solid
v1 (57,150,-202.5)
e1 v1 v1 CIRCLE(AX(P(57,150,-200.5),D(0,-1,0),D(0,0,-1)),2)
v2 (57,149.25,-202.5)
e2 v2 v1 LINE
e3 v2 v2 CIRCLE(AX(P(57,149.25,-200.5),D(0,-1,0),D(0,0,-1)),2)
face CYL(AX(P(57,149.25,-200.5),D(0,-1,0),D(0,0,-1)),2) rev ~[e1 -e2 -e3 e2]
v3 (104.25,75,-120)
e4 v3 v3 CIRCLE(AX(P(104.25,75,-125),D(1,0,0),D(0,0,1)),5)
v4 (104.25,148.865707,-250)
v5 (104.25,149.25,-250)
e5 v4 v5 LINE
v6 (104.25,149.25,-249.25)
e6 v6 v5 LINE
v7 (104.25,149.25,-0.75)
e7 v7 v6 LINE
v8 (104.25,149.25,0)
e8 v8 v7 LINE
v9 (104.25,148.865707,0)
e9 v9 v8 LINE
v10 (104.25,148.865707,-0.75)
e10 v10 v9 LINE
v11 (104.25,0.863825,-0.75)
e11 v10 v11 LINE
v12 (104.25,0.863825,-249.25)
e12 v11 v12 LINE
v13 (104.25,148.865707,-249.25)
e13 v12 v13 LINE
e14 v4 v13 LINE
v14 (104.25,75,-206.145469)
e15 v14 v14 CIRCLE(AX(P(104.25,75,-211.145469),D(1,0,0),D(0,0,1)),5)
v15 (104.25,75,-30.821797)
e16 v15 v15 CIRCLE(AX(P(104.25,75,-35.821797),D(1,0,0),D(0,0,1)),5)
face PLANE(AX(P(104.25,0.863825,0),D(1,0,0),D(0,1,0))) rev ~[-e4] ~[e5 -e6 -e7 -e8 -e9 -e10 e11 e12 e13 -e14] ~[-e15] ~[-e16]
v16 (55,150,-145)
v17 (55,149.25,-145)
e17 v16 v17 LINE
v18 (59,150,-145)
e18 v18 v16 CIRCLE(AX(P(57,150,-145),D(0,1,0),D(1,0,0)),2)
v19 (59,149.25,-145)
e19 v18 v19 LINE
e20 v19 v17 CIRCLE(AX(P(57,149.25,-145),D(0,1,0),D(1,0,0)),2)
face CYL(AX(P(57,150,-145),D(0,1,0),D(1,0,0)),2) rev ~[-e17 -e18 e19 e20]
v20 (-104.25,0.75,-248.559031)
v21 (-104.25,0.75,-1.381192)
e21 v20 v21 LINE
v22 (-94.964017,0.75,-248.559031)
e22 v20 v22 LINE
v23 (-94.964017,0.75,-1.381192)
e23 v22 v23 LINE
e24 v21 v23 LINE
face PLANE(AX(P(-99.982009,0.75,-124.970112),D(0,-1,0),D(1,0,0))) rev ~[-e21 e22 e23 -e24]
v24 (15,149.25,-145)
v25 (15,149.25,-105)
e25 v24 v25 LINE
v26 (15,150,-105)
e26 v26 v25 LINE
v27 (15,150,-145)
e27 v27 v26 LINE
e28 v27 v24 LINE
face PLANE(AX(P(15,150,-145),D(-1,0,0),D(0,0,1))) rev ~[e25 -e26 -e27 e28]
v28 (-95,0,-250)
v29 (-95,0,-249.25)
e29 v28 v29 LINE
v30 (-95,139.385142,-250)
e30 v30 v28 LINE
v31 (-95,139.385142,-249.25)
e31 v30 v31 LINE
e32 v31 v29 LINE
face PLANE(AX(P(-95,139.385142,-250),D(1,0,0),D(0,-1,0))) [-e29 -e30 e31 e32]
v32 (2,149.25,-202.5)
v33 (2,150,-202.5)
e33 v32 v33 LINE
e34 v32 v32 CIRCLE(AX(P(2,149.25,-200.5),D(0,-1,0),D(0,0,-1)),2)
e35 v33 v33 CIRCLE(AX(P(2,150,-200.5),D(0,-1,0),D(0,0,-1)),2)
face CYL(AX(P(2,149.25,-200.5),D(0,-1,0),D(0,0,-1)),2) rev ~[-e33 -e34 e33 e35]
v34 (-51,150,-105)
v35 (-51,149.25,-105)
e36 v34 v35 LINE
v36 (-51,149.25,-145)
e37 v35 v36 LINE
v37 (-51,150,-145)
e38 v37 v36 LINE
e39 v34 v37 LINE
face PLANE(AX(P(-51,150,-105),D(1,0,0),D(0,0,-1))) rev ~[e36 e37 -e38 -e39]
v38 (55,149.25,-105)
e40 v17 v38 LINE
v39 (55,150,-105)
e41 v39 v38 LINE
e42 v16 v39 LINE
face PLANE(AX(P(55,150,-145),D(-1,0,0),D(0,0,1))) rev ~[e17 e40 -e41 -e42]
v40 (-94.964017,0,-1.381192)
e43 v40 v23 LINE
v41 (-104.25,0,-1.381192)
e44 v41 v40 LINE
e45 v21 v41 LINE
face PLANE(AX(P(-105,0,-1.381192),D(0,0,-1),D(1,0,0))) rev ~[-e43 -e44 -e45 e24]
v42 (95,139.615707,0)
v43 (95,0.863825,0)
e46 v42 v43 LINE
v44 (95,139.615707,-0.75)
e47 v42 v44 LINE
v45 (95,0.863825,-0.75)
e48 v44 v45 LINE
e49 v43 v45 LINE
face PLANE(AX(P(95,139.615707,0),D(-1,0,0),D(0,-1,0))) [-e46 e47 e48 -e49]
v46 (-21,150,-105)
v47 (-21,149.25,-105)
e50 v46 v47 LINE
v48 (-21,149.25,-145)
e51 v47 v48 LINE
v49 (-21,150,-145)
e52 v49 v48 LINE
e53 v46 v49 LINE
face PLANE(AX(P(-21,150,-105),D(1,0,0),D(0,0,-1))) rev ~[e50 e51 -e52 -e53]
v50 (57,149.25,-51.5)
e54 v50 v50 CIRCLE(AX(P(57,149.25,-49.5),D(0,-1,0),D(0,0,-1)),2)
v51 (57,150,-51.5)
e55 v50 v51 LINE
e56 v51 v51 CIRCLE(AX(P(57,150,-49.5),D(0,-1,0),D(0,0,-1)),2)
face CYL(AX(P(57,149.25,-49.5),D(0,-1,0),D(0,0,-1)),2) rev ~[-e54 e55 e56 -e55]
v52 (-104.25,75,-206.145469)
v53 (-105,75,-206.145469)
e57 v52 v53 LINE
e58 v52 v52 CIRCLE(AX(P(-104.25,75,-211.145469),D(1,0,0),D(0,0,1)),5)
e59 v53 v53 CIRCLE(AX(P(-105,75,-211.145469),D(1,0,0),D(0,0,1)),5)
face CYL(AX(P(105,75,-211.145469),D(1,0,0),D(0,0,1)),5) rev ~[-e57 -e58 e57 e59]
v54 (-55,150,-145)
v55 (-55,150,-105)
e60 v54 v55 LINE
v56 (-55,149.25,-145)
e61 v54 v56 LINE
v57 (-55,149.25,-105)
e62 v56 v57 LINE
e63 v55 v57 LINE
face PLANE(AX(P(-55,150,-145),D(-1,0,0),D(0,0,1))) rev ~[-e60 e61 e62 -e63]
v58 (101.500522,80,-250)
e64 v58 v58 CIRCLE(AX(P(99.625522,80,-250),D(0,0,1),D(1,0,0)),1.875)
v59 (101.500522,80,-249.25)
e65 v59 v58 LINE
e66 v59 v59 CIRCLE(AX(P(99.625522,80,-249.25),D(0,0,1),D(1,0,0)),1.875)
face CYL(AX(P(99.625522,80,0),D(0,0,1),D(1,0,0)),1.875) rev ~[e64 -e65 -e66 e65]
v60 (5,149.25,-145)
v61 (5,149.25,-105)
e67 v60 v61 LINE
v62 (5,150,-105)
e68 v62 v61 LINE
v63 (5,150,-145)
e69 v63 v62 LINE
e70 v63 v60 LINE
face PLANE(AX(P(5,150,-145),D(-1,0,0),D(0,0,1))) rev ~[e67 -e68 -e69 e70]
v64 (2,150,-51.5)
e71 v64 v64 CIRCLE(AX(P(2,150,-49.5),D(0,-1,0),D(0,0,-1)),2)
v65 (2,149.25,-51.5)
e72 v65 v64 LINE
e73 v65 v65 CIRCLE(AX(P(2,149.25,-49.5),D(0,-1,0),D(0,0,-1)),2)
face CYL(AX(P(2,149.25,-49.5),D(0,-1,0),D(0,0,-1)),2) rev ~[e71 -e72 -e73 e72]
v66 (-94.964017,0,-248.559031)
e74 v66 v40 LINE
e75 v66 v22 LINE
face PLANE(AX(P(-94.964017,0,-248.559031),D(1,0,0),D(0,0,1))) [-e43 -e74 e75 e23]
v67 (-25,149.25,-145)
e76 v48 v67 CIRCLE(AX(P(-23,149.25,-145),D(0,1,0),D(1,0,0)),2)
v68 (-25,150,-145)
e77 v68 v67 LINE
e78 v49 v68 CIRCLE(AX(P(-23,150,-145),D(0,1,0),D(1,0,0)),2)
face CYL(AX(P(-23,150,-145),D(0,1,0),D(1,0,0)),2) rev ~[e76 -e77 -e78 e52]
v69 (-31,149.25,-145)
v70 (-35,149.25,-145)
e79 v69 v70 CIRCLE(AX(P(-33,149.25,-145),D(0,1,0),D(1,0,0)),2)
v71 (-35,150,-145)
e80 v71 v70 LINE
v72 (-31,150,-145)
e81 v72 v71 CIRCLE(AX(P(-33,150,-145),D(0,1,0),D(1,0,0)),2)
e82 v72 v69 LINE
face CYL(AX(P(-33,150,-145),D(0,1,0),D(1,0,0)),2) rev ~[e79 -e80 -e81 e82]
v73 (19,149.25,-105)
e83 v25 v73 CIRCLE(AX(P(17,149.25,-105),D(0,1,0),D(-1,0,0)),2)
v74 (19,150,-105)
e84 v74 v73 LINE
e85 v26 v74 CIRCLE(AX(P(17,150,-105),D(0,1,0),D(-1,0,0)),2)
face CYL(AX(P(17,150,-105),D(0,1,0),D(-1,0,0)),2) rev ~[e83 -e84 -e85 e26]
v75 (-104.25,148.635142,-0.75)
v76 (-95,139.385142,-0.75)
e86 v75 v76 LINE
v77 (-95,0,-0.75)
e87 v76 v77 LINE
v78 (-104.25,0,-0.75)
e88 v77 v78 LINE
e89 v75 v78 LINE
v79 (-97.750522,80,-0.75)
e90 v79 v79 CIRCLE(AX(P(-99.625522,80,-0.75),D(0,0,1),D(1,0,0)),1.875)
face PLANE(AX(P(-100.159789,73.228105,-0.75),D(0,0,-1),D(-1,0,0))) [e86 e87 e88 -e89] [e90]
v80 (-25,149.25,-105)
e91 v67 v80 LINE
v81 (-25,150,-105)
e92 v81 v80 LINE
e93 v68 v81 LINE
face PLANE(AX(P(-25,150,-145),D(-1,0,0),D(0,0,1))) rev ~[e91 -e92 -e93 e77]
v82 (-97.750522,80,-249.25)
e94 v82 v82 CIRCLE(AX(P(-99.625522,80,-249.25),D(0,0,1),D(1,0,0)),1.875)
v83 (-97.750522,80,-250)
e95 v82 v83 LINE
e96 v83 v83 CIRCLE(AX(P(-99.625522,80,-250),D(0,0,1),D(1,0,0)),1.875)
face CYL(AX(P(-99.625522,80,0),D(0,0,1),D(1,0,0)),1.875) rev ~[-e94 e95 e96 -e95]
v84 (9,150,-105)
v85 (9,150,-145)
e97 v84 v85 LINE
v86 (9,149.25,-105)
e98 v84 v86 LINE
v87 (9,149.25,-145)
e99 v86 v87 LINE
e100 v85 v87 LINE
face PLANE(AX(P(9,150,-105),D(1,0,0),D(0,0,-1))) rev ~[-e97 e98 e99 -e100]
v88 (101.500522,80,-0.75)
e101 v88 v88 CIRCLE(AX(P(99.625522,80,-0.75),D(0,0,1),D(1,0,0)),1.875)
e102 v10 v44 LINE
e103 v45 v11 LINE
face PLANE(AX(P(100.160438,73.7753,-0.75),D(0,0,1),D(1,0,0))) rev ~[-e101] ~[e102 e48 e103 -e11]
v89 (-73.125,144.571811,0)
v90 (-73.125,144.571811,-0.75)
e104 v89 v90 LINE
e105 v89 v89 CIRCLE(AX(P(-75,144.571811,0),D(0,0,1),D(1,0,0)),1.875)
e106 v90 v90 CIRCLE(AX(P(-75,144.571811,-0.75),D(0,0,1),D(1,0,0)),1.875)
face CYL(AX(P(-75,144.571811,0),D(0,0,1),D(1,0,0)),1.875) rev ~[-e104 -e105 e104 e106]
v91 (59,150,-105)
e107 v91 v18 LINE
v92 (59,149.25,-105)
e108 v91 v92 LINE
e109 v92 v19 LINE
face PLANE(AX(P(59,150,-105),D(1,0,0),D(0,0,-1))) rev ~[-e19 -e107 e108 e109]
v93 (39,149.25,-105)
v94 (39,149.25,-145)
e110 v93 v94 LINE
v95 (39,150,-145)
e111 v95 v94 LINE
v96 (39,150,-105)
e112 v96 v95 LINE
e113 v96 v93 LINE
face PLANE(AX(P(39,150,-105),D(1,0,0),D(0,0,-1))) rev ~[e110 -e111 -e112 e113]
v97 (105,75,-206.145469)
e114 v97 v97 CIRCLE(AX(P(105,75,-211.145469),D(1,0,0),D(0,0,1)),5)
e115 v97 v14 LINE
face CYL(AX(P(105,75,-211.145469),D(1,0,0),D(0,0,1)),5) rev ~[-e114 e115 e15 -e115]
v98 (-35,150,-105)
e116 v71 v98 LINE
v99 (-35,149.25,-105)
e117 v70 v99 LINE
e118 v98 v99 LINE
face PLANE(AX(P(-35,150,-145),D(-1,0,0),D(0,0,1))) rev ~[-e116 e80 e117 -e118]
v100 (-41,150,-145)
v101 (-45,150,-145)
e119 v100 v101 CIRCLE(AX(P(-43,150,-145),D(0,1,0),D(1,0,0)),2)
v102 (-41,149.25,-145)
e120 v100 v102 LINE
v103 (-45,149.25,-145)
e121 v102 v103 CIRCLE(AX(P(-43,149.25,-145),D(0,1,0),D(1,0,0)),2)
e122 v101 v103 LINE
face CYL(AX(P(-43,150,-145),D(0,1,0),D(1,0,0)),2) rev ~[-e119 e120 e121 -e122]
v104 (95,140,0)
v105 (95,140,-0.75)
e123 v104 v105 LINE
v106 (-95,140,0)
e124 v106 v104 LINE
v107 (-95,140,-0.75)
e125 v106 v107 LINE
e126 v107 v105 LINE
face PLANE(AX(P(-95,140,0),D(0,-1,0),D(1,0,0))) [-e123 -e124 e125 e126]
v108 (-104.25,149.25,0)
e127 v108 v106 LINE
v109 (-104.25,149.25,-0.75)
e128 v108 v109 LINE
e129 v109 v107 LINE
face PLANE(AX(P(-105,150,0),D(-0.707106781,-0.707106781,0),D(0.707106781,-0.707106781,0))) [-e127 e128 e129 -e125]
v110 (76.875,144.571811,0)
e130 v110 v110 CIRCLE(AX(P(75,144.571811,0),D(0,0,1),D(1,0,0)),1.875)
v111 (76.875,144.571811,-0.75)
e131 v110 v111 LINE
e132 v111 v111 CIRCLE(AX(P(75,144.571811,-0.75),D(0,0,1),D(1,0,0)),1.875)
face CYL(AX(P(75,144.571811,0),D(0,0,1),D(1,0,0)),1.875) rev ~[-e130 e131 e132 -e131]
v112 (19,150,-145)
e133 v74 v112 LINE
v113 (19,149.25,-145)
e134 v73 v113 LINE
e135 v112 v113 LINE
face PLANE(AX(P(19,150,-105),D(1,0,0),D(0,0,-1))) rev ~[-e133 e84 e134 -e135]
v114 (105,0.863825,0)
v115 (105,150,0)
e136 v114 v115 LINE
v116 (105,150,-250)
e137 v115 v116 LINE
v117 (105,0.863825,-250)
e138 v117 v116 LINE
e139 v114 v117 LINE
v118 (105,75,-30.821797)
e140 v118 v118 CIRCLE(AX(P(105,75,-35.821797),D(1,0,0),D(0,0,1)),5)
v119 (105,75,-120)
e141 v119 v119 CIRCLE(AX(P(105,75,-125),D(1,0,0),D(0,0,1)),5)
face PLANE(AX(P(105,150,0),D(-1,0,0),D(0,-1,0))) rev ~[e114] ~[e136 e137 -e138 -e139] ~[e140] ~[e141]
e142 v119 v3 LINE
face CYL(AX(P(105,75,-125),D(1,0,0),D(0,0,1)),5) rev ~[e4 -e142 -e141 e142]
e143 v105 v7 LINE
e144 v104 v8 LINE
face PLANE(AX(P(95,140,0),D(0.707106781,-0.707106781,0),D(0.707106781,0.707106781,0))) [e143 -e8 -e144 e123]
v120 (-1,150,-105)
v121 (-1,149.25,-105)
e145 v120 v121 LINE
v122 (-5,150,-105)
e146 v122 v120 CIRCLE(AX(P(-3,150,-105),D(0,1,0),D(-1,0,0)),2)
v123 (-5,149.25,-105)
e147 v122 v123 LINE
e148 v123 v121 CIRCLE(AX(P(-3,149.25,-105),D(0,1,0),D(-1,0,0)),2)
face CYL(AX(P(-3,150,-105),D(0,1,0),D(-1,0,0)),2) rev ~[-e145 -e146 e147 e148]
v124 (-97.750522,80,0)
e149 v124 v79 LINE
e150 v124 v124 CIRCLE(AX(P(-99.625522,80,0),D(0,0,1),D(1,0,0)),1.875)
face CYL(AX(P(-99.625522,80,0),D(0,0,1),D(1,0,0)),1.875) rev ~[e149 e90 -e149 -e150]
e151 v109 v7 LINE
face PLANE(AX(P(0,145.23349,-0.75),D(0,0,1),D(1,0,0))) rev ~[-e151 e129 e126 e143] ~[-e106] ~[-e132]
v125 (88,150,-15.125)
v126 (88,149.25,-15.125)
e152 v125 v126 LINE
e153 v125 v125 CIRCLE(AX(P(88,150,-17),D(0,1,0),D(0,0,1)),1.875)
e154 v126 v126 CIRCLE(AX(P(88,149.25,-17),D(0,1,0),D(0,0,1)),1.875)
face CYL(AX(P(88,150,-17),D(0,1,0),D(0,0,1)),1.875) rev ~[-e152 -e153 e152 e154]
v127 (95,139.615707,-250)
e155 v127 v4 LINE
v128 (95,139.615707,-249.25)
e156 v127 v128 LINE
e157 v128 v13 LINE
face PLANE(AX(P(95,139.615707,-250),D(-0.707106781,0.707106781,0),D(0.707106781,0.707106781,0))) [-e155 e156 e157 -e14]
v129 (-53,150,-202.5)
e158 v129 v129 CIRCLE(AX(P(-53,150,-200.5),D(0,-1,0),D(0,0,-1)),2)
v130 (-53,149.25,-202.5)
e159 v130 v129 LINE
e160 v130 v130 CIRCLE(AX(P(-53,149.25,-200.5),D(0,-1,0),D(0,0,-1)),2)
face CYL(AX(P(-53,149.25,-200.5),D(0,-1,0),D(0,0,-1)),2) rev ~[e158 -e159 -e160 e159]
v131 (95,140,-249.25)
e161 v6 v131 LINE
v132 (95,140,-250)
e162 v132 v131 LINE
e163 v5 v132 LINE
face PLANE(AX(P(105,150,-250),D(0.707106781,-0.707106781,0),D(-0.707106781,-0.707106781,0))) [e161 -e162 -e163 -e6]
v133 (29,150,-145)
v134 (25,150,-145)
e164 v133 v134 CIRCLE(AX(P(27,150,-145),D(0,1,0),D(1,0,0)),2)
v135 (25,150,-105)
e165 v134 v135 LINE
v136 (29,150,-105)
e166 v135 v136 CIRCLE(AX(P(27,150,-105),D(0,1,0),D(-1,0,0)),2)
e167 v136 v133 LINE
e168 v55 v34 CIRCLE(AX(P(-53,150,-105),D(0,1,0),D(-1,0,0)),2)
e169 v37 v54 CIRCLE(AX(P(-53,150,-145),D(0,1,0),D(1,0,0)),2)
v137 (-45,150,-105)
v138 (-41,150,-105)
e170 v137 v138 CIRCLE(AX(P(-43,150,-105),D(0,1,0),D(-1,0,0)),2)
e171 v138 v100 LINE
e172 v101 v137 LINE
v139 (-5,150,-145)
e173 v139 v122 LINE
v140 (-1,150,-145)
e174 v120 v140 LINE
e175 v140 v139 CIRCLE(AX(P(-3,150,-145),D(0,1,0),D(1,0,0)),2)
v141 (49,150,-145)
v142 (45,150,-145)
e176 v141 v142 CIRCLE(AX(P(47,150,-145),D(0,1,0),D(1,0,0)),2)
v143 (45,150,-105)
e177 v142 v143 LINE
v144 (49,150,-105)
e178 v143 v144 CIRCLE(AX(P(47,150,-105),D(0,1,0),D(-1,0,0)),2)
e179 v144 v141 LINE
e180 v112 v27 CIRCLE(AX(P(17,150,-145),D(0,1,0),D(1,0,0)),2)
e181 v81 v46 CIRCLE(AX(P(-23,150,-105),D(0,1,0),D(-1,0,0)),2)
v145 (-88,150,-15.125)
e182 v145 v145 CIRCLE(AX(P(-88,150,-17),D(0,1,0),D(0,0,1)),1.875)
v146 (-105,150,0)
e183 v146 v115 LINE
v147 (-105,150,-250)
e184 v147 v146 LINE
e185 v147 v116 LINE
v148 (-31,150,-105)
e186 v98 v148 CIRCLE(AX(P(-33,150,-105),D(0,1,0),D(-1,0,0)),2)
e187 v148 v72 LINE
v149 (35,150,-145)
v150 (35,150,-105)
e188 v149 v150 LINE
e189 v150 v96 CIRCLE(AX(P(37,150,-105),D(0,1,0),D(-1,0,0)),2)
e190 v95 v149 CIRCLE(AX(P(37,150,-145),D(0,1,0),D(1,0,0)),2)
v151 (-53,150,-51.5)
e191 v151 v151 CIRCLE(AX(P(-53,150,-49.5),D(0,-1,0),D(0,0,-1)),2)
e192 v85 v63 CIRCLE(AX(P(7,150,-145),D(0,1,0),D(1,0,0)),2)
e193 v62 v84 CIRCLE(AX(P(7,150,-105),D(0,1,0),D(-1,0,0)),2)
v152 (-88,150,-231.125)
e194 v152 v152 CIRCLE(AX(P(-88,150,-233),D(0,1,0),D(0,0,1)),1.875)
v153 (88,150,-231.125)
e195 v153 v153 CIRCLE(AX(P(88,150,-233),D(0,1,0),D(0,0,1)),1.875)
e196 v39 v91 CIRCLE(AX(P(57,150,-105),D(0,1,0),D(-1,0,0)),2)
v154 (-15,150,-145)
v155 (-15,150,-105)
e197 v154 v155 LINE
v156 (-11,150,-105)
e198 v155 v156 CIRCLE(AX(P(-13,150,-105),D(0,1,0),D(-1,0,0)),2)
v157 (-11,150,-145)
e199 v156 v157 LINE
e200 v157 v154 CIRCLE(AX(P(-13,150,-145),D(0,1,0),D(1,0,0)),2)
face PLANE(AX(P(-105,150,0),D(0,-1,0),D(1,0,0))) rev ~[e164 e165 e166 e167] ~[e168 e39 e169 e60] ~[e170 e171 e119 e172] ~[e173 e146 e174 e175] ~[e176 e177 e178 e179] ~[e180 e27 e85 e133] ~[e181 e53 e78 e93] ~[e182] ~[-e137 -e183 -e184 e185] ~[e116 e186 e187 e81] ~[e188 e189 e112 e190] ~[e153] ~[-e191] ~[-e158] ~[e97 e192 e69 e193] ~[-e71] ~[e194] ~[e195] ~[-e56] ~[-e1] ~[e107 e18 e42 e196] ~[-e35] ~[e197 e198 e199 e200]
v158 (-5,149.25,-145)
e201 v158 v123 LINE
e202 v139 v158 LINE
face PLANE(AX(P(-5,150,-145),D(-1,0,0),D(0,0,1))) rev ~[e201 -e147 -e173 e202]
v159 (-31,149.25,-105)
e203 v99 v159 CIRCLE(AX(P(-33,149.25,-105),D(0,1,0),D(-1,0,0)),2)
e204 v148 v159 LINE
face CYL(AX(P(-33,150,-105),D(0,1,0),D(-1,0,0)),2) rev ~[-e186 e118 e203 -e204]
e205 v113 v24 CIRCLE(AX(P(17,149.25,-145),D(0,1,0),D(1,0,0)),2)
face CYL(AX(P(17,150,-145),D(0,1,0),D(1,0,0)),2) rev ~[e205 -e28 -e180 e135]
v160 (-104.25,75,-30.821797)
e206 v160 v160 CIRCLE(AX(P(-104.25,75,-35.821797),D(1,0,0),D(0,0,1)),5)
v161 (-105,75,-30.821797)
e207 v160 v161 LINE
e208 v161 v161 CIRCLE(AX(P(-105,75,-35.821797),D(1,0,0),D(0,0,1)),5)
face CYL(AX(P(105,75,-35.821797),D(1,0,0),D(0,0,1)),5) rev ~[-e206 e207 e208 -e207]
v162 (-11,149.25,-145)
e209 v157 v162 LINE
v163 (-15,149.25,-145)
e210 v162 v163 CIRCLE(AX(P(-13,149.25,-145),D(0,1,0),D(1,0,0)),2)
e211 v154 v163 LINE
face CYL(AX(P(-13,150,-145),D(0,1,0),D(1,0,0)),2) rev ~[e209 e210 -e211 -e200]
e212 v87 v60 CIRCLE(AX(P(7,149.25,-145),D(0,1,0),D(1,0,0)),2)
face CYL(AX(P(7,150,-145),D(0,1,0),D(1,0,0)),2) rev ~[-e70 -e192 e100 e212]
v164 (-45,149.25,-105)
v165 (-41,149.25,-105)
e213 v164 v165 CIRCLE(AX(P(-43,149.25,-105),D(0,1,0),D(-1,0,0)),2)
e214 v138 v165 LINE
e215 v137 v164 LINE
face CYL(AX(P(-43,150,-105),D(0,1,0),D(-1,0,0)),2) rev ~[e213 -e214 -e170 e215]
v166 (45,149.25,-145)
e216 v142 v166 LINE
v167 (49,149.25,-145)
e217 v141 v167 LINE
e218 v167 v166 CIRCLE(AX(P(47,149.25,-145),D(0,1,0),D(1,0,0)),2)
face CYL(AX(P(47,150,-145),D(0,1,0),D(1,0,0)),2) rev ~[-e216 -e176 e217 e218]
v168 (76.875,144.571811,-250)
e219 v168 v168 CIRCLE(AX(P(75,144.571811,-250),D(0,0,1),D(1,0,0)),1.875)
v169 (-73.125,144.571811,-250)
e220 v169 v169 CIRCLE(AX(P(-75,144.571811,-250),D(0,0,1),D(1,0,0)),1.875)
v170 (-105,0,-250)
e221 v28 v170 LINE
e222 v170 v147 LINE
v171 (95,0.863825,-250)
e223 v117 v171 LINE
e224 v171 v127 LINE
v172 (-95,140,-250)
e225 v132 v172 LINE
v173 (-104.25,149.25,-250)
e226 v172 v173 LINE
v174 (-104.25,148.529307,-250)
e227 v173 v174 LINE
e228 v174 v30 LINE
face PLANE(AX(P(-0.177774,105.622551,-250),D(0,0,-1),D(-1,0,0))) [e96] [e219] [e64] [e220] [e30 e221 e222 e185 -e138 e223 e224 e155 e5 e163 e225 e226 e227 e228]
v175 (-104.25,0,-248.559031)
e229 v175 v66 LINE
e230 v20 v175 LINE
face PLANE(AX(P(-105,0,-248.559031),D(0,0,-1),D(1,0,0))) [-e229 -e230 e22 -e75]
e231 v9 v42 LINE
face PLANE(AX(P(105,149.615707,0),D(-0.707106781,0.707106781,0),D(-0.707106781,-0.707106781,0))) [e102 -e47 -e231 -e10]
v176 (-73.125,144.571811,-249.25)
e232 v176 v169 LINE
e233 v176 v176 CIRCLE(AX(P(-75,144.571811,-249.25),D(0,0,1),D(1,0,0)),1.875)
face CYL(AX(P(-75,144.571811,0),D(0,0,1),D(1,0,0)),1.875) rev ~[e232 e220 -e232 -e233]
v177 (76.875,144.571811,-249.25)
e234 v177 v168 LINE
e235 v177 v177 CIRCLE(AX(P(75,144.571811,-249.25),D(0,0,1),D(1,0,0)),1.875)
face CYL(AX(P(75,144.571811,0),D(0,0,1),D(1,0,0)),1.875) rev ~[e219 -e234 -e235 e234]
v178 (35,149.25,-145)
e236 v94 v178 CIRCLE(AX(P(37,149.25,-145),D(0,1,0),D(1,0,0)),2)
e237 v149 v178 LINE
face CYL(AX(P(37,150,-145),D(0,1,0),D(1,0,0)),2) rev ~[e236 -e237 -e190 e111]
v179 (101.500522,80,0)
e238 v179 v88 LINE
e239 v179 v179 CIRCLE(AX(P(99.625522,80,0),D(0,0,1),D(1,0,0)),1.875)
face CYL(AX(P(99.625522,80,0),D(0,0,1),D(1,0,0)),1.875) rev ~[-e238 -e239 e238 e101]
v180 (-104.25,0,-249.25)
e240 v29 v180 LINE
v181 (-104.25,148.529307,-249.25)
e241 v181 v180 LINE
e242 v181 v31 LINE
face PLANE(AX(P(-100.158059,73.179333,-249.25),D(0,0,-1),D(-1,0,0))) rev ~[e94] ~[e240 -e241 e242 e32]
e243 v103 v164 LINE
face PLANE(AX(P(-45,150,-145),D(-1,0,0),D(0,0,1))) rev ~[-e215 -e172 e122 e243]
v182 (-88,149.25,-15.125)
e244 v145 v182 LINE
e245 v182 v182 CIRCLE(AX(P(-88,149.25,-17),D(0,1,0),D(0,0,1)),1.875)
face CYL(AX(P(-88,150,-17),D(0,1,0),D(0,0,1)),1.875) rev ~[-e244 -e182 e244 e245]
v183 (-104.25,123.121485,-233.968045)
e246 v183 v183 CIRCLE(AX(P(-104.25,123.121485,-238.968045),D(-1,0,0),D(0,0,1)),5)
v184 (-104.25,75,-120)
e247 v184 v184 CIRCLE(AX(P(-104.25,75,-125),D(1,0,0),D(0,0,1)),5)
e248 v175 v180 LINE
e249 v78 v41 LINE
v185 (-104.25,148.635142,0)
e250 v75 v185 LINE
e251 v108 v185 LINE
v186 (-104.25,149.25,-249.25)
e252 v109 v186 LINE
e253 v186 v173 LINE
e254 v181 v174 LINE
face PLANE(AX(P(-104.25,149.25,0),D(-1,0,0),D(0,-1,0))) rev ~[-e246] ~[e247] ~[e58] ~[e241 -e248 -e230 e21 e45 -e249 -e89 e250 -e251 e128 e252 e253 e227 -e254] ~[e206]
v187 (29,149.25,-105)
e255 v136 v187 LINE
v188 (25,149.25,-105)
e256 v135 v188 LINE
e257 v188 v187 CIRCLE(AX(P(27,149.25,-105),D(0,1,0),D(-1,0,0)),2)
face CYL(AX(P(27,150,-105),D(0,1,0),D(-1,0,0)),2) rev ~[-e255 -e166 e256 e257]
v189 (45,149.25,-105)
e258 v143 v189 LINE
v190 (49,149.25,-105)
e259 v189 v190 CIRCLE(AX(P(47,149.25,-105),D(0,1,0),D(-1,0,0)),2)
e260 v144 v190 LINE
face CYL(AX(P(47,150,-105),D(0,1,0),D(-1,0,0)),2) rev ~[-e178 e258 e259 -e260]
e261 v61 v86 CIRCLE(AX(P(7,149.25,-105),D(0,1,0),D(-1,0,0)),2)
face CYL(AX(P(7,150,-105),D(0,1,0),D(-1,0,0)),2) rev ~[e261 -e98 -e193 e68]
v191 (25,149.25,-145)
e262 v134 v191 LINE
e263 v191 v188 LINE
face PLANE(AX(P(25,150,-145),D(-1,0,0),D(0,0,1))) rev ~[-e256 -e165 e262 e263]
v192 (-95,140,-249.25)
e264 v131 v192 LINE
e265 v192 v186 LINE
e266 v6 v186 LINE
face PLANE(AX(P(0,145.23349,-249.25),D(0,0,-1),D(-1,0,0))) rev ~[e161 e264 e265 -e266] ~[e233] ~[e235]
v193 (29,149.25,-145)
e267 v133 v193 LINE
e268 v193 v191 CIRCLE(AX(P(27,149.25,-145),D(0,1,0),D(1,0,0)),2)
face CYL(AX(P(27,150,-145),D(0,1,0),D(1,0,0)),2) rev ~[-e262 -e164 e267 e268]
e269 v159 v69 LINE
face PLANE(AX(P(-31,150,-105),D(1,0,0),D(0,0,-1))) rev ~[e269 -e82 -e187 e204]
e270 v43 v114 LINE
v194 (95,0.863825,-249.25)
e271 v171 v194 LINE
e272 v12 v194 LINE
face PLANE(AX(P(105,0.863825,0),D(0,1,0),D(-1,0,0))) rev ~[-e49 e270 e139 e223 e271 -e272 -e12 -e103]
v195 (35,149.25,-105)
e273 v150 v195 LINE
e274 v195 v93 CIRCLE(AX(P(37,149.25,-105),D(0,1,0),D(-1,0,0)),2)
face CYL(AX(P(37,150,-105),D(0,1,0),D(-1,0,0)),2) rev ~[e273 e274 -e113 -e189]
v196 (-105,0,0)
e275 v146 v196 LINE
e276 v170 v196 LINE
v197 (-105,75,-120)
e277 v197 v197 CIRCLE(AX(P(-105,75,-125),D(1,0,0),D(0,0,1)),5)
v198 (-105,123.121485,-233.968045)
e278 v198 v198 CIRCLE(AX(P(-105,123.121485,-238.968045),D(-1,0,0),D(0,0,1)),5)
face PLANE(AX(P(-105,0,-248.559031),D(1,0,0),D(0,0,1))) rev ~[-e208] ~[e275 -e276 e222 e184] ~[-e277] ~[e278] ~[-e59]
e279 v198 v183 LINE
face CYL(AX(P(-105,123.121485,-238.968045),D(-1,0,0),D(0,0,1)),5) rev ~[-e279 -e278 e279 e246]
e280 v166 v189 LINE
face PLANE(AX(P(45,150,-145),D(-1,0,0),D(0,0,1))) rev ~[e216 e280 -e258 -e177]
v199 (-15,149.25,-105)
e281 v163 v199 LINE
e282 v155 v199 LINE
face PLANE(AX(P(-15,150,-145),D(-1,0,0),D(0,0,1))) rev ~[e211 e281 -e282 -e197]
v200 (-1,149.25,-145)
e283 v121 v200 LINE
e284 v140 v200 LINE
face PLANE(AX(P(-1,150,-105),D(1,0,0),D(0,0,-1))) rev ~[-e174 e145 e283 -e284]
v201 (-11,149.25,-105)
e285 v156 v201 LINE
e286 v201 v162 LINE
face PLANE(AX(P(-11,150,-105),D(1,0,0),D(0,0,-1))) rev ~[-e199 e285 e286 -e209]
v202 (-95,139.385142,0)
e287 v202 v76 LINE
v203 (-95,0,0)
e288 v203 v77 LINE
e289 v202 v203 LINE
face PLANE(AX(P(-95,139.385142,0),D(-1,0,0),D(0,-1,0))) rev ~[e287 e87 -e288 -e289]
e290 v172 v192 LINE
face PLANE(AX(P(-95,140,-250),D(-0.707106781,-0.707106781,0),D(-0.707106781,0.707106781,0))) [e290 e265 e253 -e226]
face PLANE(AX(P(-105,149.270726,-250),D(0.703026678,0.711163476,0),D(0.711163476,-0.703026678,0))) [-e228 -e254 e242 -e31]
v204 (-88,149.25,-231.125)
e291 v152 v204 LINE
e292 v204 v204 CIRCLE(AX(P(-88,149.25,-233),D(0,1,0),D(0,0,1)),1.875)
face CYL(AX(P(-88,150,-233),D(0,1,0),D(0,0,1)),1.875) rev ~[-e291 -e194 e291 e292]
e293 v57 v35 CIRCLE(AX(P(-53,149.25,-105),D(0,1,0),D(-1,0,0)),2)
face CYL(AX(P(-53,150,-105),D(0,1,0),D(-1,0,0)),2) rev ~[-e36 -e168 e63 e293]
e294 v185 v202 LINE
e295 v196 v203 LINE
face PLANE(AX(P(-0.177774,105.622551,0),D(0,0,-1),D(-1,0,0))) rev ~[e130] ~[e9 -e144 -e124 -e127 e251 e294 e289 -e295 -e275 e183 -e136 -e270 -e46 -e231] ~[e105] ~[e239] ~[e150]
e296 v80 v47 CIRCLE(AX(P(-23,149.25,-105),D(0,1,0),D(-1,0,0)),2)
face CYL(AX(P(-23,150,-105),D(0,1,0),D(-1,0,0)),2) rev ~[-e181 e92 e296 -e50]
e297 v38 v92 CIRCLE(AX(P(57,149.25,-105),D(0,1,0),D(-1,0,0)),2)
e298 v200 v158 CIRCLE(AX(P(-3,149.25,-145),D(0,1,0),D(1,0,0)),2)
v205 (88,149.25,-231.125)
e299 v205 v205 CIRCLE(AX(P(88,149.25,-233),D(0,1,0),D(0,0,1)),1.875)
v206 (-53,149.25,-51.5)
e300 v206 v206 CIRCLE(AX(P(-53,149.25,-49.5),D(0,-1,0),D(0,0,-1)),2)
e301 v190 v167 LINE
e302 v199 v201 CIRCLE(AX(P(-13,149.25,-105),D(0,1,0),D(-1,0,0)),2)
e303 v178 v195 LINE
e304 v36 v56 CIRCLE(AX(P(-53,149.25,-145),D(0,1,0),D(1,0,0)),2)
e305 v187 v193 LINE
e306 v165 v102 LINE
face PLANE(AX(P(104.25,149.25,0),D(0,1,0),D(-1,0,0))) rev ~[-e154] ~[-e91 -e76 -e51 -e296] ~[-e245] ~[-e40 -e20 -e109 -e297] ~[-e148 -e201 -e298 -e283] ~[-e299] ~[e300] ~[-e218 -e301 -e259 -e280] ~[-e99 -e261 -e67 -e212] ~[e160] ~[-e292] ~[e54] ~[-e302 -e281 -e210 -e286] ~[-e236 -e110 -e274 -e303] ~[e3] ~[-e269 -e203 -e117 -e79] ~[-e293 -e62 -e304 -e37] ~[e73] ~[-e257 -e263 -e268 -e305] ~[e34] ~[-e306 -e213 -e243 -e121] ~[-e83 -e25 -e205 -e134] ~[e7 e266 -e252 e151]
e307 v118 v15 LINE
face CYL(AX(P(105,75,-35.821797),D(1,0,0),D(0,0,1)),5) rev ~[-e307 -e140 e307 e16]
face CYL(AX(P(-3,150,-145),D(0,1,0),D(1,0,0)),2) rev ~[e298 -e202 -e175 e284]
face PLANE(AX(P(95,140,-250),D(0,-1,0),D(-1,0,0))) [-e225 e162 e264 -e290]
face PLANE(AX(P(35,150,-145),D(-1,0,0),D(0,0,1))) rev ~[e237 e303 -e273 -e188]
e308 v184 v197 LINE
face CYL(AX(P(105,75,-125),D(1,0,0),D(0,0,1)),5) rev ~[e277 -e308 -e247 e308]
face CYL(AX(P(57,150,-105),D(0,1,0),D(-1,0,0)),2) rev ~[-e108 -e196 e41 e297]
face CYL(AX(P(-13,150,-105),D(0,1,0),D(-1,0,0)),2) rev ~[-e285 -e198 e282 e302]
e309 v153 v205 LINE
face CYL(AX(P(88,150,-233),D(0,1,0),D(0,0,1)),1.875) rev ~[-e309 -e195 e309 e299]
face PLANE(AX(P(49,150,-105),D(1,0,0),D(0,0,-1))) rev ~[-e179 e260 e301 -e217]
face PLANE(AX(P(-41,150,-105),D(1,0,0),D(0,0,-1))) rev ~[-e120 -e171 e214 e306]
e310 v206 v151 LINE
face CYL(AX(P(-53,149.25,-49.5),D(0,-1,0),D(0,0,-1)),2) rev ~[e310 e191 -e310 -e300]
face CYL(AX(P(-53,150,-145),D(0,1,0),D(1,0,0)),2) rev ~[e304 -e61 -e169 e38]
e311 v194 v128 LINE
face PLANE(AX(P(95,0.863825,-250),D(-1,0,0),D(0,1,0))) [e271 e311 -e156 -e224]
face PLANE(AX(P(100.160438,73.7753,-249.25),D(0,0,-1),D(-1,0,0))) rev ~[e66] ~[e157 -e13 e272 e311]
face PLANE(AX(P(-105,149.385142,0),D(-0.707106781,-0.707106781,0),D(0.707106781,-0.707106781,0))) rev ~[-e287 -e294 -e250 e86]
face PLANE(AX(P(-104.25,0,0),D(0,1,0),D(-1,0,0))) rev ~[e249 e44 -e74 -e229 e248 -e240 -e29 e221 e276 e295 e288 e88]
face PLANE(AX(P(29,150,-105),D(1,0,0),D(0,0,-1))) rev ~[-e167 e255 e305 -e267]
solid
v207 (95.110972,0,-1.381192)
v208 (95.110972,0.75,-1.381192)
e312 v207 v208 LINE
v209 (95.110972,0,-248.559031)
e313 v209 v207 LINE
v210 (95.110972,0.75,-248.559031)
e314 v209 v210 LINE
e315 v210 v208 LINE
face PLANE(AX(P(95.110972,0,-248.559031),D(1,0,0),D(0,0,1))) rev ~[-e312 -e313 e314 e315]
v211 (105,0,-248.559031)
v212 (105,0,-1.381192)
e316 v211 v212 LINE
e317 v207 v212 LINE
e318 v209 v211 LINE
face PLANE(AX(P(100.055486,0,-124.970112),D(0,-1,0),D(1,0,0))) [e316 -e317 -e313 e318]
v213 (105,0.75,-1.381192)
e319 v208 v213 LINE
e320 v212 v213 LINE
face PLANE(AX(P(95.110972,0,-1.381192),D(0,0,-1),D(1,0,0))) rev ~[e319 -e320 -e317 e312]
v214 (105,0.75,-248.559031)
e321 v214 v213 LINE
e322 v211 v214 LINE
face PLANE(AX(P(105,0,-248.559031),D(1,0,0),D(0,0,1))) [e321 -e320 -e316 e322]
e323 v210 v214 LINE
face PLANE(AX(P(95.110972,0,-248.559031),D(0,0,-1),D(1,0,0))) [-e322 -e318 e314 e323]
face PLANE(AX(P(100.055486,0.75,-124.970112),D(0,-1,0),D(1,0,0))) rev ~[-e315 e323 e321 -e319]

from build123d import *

# Parameters (mm, degrees)
SALIENTE_EXTRUIR1_DEPTH = 250
CROQUIS2_R              = 5
CORTAR_EXTRUIR1_DEPTH   = 41
SALIENTE_EXTRUIR2_DEPTH = 0.75
SALIENTE_EXTRUIR3_DEPTH = 0.75
CROQUIS6_W              = 10.03598264
CROQUIS6_H              = 247.177839244
CROQUIS6_W_2            = 9.889027718
SALIENTE_EXTRUIR4_DEPTH = 0.75
CROQUIS7_R              = 1.875
CORTAR_EXTRUIR2_DEPTH   = 25.75
CORTAR_EXTRUIR3_DEPTH   = 25.75
CROQUIS9_R              = 1.875
CORTAR_EXTRUIR4_DEPTH   = 269.75
CROQUIS10_R             = 5
CORTAR_EXTRUIR5_DEPTH   = 269.75
CROQUIS11_R             = 2
CORTAR_EXTRUIR6_DEPTH   = 10


with BuildPart() as part:
    # Croquis1 → Saliente-Extruir1 (new body)
    with BuildSketch(Plane.XY):
        Polygon((-105, 0), (-105, 150), (105, 150), (105, 0.86382522), (104.25, 0.86382522), (104.25, 149.25), (-104.25, 149.25), (-104.25, 0), align=None)
    extrude(amount=-SALIENTE_EXTRUIR1_DEPTH)

    # Croquis2 → Cortar-Extruir1 (cut)
    with BuildSketch(Plane.ZY.offset(105)):
        with Locations((-238.968044947, 123.121485212)):
            Circle(CROQUIS2_R)
    extrude(amount=-CORTAR_EXTRUIR1_DEPTH, mode=Mode.SUBTRACT)

    # Croquis3 → Saliente-Extruir2 (add)
    with BuildSketch(Plane.XY):
        Polygon((-105, 150), (-95, 140), (95, 140), (105, 150), align=None)
        Polygon((-105, 149.385141578), (-95, 139.385141578), (-95, 0), (-105, 0), align=None)
        Polygon((105, 149.615707019), (95, 139.615707019), (95, 0.86382522), (105, 0.86382522), align=None)
    extrude(amount=-SALIENTE_EXTRUIR2_DEPTH)

    # Croquis4 → Saliente-Extruir3 (add)
    with BuildSketch(Plane(origin=(0, 0, -250), x_dir=(-1, 0, 0), z_dir=(0, 0, -1))):
        Polygon((-105, 150), (-95, 140), (95, 140), (105, 150), align=None)
        Polygon((105, 149.270726288), (95, 139.385141578), (95, 0), (105, 0), align=None)
        Polygon((-95, 139.615707019), (-105, 149.615707019), (-105, 0.86382522), (-95, 0.86382522), align=None)
    extrude(amount=-SALIENTE_EXTRUIR3_DEPTH)

    # Croquis6 → Saliente-Extruir4 (add)
    with BuildSketch(Plane.XZ):
        with Locations((-99.98200868, -124.970111829)):
            Rectangle(CROQUIS6_W, CROQUIS6_H)
        with Locations((100.055486141, -124.970111829)):
            Rectangle(CROQUIS6_W_2, CROQUIS6_H)
    extrude(amount=-SALIENTE_EXTRUIR4_DEPTH)


with BuildPart() as saliente_extruir4_piece_1:
    # of the separate pieces the step leaves, piece 1, a body of its own (saliente_extruir4_pieces)
    add(part.part.solids().sort_by_distance((-105, 0, 0))[0])

    # Croquis7 → Cortar-Extruir2 (cut)
    with BuildSketch(Plane(origin=(0, 150, 0), x_dir=(1, 0, 0), z_dir=(0, 1, 0))):
        with Locations(Location((-88, 233, 0), (0, 0, 270))):
            Circle(CROQUIS7_R)
        with Locations(Location((88, 233, 0), (0, 0, 270))):
            Circle(CROQUIS7_R)
        with Locations(Location((88, 17, 0), (0, 0, 270))):
            Circle(CROQUIS7_R)
        with Locations(Location((-88, 17, 0), (0, 0, 270))):
            Circle(CROQUIS7_R)
    extrude(amount=-CORTAR_EXTRUIR2_DEPTH, mode=Mode.SUBTRACT)

    # Croquis8 → Cortar-Extruir3 (cut)
    with BuildSketch(Plane(origin=(0, 150, 0), x_dir=(1, 0, 0), z_dir=(0, 1, 0))):
        with BuildLine():
            Line((-55, 145), (-55, 105))
            ThreePointArc((-55, 105), (-53, 103), (-51, 105))
            Line((-51, 105), (-51, 145))
            ThreePointArc((-51, 145), (-53, 147), (-55, 145))
        make_face()
        with BuildLine():
            Line((-41, 105), (-41, 145))
            ThreePointArc((-41, 145), (-43, 147), (-45, 145))
            Line((-45, 145), (-45, 105))
            ThreePointArc((-45, 105), (-43, 103), (-41, 105))
        make_face()
        with BuildLine():
            Line((-31, 105), (-31, 145))
            ThreePointArc((-31, 145), (-33, 147), (-35, 145))
            Line((-35, 145), (-35, 105))
            ThreePointArc((-35, 105), (-33, 103), (-31, 105))
        make_face()
        with BuildLine():
            Line((-21, 105), (-21, 145))
            ThreePointArc((-21, 145), (-23, 147), (-25, 145))
            Line((-25, 145), (-25, 105))
            ThreePointArc((-25, 105), (-23, 103), (-21, 105))
        make_face()
        with BuildLine():
            Line((-11, 105), (-11, 145))
            ThreePointArc((-11, 145), (-13, 147), (-15, 145))
            Line((-15, 145), (-15, 105))
            ThreePointArc((-15, 105), (-13, 103), (-11, 105))
        make_face()
        with BuildLine():
            Line((-1, 105), (-1, 145))
            ThreePointArc((-1, 145), (-3, 147), (-5, 145))
            Line((-5, 145), (-5, 105))
            ThreePointArc((-5, 105), (-3, 103), (-1, 105))
        make_face()
        with BuildLine():
            Line((9, 105), (9, 145))
            ThreePointArc((9, 145), (7, 147), (5, 145))
            Line((5, 145), (5, 105))
            ThreePointArc((5, 105), (7, 103), (9, 105))
        make_face()
        with BuildLine():
            Line((19, 105), (19, 145))
            ThreePointArc((19, 145), (17, 147), (15, 145))
            Line((15, 145), (15, 105))
            ThreePointArc((15, 105), (17, 103), (19, 105))
        make_face()
        with BuildLine():
            Line((29, 105), (29, 145))
            ThreePointArc((29, 145), (27, 147), (25, 145))
            Line((25, 145), (25, 105))
            ThreePointArc((25, 105), (27, 103), (29, 105))
        make_face()
        with BuildLine():
            Line((39, 105), (39, 145))
            ThreePointArc((39, 145), (37, 147), (35, 145))
            Line((35, 145), (35, 105))
            ThreePointArc((35, 105), (37, 103), (39, 105))
        make_face()
        with BuildLine():
            Line((49, 105), (49, 145))
            ThreePointArc((49, 145), (47, 147), (45, 145))
            Line((45, 145), (45, 105))
            ThreePointArc((45, 105), (47, 103), (49, 105))
        make_face()
        with BuildLine():
            Line((59, 105), (59, 145))
            ThreePointArc((59, 145), (57, 147), (55, 145))
            Line((55, 145), (55, 105))
            ThreePointArc((55, 105), (57, 103), (59, 105))
        make_face()
    extrude(amount=-CORTAR_EXTRUIR3_DEPTH, mode=Mode.SUBTRACT)

    # Croquis9 → Cortar-Extruir4 (cut)
    with BuildSketch(Plane.XY):
        with Locations((-99.625522087, 80)):
            Circle(CROQUIS9_R)
        with Locations((-75, 144.571811312)):
            Circle(CROQUIS9_R)
        with Locations((99.625522087, 80)):
            Circle(CROQUIS9_R)
        with Locations((75, 144.571811312)):
            Circle(CROQUIS9_R)
    extrude(amount=-CORTAR_EXTRUIR4_DEPTH, mode=Mode.SUBTRACT)

    # Croquis10 → Cortar-Extruir5 (cut)
    with BuildSketch(Plane(origin=(105, 0, 0), x_dir=(0, 0, -1), z_dir=(1, 0, 0))):
        with Locations(Location((125, 75, 0), (0, 0, 180))):
            Circle(CROQUIS10_R)
        with Locations(Location((211.145469255, 75, 0), (0, 0, 180))):
            Circle(CROQUIS10_R)
        with Locations(Location((35.82179683, 75, 0), (0, 0, 180))):
            Circle(CROQUIS10_R)
    extrude(amount=-CORTAR_EXTRUIR5_DEPTH, mode=Mode.SUBTRACT)

    # Croquis11 → Cortar-Extruir6 (cut)
    with BuildSketch(Plane.XZ.offset(-149.25)):
        with Locations(Location((-53, -49.5, 0), (0, 0, 270))):
            Circle(CROQUIS11_R)
        with Locations(Location((2, -49.5, 0), (0, 0, 270))):
            Circle(CROQUIS11_R)
        with Locations(Location((57, -49.5, 0), (0, 0, 270))):
            Circle(CROQUIS11_R)
        with Locations(Location((2, -200.5, 0), (0, 0, 270))):
            Circle(CROQUIS11_R)
        with Locations(Location((57, -200.5, 0), (0, 0, 270))):
            Circle(CROQUIS11_R)
        with Locations(Location((-53, -200.5, 0), (0, 0, 270))):
            Circle(CROQUIS11_R)
    extrude(amount=-CORTAR_EXTRUIR6_DEPTH, mode=Mode.SUBTRACT)


with BuildPart() as saliente_extruir4_piece_2:
    # of the separate pieces the step leaves, piece 2, a body of its own (saliente_extruir4_pieces)
    add(part.part.solids().sort_by_distance((95.110972282, 0, -1.381192207))[0])


solid = Compound([saliente_extruir4_piece_1.part, saliente_extruir4_piece_2.part])
